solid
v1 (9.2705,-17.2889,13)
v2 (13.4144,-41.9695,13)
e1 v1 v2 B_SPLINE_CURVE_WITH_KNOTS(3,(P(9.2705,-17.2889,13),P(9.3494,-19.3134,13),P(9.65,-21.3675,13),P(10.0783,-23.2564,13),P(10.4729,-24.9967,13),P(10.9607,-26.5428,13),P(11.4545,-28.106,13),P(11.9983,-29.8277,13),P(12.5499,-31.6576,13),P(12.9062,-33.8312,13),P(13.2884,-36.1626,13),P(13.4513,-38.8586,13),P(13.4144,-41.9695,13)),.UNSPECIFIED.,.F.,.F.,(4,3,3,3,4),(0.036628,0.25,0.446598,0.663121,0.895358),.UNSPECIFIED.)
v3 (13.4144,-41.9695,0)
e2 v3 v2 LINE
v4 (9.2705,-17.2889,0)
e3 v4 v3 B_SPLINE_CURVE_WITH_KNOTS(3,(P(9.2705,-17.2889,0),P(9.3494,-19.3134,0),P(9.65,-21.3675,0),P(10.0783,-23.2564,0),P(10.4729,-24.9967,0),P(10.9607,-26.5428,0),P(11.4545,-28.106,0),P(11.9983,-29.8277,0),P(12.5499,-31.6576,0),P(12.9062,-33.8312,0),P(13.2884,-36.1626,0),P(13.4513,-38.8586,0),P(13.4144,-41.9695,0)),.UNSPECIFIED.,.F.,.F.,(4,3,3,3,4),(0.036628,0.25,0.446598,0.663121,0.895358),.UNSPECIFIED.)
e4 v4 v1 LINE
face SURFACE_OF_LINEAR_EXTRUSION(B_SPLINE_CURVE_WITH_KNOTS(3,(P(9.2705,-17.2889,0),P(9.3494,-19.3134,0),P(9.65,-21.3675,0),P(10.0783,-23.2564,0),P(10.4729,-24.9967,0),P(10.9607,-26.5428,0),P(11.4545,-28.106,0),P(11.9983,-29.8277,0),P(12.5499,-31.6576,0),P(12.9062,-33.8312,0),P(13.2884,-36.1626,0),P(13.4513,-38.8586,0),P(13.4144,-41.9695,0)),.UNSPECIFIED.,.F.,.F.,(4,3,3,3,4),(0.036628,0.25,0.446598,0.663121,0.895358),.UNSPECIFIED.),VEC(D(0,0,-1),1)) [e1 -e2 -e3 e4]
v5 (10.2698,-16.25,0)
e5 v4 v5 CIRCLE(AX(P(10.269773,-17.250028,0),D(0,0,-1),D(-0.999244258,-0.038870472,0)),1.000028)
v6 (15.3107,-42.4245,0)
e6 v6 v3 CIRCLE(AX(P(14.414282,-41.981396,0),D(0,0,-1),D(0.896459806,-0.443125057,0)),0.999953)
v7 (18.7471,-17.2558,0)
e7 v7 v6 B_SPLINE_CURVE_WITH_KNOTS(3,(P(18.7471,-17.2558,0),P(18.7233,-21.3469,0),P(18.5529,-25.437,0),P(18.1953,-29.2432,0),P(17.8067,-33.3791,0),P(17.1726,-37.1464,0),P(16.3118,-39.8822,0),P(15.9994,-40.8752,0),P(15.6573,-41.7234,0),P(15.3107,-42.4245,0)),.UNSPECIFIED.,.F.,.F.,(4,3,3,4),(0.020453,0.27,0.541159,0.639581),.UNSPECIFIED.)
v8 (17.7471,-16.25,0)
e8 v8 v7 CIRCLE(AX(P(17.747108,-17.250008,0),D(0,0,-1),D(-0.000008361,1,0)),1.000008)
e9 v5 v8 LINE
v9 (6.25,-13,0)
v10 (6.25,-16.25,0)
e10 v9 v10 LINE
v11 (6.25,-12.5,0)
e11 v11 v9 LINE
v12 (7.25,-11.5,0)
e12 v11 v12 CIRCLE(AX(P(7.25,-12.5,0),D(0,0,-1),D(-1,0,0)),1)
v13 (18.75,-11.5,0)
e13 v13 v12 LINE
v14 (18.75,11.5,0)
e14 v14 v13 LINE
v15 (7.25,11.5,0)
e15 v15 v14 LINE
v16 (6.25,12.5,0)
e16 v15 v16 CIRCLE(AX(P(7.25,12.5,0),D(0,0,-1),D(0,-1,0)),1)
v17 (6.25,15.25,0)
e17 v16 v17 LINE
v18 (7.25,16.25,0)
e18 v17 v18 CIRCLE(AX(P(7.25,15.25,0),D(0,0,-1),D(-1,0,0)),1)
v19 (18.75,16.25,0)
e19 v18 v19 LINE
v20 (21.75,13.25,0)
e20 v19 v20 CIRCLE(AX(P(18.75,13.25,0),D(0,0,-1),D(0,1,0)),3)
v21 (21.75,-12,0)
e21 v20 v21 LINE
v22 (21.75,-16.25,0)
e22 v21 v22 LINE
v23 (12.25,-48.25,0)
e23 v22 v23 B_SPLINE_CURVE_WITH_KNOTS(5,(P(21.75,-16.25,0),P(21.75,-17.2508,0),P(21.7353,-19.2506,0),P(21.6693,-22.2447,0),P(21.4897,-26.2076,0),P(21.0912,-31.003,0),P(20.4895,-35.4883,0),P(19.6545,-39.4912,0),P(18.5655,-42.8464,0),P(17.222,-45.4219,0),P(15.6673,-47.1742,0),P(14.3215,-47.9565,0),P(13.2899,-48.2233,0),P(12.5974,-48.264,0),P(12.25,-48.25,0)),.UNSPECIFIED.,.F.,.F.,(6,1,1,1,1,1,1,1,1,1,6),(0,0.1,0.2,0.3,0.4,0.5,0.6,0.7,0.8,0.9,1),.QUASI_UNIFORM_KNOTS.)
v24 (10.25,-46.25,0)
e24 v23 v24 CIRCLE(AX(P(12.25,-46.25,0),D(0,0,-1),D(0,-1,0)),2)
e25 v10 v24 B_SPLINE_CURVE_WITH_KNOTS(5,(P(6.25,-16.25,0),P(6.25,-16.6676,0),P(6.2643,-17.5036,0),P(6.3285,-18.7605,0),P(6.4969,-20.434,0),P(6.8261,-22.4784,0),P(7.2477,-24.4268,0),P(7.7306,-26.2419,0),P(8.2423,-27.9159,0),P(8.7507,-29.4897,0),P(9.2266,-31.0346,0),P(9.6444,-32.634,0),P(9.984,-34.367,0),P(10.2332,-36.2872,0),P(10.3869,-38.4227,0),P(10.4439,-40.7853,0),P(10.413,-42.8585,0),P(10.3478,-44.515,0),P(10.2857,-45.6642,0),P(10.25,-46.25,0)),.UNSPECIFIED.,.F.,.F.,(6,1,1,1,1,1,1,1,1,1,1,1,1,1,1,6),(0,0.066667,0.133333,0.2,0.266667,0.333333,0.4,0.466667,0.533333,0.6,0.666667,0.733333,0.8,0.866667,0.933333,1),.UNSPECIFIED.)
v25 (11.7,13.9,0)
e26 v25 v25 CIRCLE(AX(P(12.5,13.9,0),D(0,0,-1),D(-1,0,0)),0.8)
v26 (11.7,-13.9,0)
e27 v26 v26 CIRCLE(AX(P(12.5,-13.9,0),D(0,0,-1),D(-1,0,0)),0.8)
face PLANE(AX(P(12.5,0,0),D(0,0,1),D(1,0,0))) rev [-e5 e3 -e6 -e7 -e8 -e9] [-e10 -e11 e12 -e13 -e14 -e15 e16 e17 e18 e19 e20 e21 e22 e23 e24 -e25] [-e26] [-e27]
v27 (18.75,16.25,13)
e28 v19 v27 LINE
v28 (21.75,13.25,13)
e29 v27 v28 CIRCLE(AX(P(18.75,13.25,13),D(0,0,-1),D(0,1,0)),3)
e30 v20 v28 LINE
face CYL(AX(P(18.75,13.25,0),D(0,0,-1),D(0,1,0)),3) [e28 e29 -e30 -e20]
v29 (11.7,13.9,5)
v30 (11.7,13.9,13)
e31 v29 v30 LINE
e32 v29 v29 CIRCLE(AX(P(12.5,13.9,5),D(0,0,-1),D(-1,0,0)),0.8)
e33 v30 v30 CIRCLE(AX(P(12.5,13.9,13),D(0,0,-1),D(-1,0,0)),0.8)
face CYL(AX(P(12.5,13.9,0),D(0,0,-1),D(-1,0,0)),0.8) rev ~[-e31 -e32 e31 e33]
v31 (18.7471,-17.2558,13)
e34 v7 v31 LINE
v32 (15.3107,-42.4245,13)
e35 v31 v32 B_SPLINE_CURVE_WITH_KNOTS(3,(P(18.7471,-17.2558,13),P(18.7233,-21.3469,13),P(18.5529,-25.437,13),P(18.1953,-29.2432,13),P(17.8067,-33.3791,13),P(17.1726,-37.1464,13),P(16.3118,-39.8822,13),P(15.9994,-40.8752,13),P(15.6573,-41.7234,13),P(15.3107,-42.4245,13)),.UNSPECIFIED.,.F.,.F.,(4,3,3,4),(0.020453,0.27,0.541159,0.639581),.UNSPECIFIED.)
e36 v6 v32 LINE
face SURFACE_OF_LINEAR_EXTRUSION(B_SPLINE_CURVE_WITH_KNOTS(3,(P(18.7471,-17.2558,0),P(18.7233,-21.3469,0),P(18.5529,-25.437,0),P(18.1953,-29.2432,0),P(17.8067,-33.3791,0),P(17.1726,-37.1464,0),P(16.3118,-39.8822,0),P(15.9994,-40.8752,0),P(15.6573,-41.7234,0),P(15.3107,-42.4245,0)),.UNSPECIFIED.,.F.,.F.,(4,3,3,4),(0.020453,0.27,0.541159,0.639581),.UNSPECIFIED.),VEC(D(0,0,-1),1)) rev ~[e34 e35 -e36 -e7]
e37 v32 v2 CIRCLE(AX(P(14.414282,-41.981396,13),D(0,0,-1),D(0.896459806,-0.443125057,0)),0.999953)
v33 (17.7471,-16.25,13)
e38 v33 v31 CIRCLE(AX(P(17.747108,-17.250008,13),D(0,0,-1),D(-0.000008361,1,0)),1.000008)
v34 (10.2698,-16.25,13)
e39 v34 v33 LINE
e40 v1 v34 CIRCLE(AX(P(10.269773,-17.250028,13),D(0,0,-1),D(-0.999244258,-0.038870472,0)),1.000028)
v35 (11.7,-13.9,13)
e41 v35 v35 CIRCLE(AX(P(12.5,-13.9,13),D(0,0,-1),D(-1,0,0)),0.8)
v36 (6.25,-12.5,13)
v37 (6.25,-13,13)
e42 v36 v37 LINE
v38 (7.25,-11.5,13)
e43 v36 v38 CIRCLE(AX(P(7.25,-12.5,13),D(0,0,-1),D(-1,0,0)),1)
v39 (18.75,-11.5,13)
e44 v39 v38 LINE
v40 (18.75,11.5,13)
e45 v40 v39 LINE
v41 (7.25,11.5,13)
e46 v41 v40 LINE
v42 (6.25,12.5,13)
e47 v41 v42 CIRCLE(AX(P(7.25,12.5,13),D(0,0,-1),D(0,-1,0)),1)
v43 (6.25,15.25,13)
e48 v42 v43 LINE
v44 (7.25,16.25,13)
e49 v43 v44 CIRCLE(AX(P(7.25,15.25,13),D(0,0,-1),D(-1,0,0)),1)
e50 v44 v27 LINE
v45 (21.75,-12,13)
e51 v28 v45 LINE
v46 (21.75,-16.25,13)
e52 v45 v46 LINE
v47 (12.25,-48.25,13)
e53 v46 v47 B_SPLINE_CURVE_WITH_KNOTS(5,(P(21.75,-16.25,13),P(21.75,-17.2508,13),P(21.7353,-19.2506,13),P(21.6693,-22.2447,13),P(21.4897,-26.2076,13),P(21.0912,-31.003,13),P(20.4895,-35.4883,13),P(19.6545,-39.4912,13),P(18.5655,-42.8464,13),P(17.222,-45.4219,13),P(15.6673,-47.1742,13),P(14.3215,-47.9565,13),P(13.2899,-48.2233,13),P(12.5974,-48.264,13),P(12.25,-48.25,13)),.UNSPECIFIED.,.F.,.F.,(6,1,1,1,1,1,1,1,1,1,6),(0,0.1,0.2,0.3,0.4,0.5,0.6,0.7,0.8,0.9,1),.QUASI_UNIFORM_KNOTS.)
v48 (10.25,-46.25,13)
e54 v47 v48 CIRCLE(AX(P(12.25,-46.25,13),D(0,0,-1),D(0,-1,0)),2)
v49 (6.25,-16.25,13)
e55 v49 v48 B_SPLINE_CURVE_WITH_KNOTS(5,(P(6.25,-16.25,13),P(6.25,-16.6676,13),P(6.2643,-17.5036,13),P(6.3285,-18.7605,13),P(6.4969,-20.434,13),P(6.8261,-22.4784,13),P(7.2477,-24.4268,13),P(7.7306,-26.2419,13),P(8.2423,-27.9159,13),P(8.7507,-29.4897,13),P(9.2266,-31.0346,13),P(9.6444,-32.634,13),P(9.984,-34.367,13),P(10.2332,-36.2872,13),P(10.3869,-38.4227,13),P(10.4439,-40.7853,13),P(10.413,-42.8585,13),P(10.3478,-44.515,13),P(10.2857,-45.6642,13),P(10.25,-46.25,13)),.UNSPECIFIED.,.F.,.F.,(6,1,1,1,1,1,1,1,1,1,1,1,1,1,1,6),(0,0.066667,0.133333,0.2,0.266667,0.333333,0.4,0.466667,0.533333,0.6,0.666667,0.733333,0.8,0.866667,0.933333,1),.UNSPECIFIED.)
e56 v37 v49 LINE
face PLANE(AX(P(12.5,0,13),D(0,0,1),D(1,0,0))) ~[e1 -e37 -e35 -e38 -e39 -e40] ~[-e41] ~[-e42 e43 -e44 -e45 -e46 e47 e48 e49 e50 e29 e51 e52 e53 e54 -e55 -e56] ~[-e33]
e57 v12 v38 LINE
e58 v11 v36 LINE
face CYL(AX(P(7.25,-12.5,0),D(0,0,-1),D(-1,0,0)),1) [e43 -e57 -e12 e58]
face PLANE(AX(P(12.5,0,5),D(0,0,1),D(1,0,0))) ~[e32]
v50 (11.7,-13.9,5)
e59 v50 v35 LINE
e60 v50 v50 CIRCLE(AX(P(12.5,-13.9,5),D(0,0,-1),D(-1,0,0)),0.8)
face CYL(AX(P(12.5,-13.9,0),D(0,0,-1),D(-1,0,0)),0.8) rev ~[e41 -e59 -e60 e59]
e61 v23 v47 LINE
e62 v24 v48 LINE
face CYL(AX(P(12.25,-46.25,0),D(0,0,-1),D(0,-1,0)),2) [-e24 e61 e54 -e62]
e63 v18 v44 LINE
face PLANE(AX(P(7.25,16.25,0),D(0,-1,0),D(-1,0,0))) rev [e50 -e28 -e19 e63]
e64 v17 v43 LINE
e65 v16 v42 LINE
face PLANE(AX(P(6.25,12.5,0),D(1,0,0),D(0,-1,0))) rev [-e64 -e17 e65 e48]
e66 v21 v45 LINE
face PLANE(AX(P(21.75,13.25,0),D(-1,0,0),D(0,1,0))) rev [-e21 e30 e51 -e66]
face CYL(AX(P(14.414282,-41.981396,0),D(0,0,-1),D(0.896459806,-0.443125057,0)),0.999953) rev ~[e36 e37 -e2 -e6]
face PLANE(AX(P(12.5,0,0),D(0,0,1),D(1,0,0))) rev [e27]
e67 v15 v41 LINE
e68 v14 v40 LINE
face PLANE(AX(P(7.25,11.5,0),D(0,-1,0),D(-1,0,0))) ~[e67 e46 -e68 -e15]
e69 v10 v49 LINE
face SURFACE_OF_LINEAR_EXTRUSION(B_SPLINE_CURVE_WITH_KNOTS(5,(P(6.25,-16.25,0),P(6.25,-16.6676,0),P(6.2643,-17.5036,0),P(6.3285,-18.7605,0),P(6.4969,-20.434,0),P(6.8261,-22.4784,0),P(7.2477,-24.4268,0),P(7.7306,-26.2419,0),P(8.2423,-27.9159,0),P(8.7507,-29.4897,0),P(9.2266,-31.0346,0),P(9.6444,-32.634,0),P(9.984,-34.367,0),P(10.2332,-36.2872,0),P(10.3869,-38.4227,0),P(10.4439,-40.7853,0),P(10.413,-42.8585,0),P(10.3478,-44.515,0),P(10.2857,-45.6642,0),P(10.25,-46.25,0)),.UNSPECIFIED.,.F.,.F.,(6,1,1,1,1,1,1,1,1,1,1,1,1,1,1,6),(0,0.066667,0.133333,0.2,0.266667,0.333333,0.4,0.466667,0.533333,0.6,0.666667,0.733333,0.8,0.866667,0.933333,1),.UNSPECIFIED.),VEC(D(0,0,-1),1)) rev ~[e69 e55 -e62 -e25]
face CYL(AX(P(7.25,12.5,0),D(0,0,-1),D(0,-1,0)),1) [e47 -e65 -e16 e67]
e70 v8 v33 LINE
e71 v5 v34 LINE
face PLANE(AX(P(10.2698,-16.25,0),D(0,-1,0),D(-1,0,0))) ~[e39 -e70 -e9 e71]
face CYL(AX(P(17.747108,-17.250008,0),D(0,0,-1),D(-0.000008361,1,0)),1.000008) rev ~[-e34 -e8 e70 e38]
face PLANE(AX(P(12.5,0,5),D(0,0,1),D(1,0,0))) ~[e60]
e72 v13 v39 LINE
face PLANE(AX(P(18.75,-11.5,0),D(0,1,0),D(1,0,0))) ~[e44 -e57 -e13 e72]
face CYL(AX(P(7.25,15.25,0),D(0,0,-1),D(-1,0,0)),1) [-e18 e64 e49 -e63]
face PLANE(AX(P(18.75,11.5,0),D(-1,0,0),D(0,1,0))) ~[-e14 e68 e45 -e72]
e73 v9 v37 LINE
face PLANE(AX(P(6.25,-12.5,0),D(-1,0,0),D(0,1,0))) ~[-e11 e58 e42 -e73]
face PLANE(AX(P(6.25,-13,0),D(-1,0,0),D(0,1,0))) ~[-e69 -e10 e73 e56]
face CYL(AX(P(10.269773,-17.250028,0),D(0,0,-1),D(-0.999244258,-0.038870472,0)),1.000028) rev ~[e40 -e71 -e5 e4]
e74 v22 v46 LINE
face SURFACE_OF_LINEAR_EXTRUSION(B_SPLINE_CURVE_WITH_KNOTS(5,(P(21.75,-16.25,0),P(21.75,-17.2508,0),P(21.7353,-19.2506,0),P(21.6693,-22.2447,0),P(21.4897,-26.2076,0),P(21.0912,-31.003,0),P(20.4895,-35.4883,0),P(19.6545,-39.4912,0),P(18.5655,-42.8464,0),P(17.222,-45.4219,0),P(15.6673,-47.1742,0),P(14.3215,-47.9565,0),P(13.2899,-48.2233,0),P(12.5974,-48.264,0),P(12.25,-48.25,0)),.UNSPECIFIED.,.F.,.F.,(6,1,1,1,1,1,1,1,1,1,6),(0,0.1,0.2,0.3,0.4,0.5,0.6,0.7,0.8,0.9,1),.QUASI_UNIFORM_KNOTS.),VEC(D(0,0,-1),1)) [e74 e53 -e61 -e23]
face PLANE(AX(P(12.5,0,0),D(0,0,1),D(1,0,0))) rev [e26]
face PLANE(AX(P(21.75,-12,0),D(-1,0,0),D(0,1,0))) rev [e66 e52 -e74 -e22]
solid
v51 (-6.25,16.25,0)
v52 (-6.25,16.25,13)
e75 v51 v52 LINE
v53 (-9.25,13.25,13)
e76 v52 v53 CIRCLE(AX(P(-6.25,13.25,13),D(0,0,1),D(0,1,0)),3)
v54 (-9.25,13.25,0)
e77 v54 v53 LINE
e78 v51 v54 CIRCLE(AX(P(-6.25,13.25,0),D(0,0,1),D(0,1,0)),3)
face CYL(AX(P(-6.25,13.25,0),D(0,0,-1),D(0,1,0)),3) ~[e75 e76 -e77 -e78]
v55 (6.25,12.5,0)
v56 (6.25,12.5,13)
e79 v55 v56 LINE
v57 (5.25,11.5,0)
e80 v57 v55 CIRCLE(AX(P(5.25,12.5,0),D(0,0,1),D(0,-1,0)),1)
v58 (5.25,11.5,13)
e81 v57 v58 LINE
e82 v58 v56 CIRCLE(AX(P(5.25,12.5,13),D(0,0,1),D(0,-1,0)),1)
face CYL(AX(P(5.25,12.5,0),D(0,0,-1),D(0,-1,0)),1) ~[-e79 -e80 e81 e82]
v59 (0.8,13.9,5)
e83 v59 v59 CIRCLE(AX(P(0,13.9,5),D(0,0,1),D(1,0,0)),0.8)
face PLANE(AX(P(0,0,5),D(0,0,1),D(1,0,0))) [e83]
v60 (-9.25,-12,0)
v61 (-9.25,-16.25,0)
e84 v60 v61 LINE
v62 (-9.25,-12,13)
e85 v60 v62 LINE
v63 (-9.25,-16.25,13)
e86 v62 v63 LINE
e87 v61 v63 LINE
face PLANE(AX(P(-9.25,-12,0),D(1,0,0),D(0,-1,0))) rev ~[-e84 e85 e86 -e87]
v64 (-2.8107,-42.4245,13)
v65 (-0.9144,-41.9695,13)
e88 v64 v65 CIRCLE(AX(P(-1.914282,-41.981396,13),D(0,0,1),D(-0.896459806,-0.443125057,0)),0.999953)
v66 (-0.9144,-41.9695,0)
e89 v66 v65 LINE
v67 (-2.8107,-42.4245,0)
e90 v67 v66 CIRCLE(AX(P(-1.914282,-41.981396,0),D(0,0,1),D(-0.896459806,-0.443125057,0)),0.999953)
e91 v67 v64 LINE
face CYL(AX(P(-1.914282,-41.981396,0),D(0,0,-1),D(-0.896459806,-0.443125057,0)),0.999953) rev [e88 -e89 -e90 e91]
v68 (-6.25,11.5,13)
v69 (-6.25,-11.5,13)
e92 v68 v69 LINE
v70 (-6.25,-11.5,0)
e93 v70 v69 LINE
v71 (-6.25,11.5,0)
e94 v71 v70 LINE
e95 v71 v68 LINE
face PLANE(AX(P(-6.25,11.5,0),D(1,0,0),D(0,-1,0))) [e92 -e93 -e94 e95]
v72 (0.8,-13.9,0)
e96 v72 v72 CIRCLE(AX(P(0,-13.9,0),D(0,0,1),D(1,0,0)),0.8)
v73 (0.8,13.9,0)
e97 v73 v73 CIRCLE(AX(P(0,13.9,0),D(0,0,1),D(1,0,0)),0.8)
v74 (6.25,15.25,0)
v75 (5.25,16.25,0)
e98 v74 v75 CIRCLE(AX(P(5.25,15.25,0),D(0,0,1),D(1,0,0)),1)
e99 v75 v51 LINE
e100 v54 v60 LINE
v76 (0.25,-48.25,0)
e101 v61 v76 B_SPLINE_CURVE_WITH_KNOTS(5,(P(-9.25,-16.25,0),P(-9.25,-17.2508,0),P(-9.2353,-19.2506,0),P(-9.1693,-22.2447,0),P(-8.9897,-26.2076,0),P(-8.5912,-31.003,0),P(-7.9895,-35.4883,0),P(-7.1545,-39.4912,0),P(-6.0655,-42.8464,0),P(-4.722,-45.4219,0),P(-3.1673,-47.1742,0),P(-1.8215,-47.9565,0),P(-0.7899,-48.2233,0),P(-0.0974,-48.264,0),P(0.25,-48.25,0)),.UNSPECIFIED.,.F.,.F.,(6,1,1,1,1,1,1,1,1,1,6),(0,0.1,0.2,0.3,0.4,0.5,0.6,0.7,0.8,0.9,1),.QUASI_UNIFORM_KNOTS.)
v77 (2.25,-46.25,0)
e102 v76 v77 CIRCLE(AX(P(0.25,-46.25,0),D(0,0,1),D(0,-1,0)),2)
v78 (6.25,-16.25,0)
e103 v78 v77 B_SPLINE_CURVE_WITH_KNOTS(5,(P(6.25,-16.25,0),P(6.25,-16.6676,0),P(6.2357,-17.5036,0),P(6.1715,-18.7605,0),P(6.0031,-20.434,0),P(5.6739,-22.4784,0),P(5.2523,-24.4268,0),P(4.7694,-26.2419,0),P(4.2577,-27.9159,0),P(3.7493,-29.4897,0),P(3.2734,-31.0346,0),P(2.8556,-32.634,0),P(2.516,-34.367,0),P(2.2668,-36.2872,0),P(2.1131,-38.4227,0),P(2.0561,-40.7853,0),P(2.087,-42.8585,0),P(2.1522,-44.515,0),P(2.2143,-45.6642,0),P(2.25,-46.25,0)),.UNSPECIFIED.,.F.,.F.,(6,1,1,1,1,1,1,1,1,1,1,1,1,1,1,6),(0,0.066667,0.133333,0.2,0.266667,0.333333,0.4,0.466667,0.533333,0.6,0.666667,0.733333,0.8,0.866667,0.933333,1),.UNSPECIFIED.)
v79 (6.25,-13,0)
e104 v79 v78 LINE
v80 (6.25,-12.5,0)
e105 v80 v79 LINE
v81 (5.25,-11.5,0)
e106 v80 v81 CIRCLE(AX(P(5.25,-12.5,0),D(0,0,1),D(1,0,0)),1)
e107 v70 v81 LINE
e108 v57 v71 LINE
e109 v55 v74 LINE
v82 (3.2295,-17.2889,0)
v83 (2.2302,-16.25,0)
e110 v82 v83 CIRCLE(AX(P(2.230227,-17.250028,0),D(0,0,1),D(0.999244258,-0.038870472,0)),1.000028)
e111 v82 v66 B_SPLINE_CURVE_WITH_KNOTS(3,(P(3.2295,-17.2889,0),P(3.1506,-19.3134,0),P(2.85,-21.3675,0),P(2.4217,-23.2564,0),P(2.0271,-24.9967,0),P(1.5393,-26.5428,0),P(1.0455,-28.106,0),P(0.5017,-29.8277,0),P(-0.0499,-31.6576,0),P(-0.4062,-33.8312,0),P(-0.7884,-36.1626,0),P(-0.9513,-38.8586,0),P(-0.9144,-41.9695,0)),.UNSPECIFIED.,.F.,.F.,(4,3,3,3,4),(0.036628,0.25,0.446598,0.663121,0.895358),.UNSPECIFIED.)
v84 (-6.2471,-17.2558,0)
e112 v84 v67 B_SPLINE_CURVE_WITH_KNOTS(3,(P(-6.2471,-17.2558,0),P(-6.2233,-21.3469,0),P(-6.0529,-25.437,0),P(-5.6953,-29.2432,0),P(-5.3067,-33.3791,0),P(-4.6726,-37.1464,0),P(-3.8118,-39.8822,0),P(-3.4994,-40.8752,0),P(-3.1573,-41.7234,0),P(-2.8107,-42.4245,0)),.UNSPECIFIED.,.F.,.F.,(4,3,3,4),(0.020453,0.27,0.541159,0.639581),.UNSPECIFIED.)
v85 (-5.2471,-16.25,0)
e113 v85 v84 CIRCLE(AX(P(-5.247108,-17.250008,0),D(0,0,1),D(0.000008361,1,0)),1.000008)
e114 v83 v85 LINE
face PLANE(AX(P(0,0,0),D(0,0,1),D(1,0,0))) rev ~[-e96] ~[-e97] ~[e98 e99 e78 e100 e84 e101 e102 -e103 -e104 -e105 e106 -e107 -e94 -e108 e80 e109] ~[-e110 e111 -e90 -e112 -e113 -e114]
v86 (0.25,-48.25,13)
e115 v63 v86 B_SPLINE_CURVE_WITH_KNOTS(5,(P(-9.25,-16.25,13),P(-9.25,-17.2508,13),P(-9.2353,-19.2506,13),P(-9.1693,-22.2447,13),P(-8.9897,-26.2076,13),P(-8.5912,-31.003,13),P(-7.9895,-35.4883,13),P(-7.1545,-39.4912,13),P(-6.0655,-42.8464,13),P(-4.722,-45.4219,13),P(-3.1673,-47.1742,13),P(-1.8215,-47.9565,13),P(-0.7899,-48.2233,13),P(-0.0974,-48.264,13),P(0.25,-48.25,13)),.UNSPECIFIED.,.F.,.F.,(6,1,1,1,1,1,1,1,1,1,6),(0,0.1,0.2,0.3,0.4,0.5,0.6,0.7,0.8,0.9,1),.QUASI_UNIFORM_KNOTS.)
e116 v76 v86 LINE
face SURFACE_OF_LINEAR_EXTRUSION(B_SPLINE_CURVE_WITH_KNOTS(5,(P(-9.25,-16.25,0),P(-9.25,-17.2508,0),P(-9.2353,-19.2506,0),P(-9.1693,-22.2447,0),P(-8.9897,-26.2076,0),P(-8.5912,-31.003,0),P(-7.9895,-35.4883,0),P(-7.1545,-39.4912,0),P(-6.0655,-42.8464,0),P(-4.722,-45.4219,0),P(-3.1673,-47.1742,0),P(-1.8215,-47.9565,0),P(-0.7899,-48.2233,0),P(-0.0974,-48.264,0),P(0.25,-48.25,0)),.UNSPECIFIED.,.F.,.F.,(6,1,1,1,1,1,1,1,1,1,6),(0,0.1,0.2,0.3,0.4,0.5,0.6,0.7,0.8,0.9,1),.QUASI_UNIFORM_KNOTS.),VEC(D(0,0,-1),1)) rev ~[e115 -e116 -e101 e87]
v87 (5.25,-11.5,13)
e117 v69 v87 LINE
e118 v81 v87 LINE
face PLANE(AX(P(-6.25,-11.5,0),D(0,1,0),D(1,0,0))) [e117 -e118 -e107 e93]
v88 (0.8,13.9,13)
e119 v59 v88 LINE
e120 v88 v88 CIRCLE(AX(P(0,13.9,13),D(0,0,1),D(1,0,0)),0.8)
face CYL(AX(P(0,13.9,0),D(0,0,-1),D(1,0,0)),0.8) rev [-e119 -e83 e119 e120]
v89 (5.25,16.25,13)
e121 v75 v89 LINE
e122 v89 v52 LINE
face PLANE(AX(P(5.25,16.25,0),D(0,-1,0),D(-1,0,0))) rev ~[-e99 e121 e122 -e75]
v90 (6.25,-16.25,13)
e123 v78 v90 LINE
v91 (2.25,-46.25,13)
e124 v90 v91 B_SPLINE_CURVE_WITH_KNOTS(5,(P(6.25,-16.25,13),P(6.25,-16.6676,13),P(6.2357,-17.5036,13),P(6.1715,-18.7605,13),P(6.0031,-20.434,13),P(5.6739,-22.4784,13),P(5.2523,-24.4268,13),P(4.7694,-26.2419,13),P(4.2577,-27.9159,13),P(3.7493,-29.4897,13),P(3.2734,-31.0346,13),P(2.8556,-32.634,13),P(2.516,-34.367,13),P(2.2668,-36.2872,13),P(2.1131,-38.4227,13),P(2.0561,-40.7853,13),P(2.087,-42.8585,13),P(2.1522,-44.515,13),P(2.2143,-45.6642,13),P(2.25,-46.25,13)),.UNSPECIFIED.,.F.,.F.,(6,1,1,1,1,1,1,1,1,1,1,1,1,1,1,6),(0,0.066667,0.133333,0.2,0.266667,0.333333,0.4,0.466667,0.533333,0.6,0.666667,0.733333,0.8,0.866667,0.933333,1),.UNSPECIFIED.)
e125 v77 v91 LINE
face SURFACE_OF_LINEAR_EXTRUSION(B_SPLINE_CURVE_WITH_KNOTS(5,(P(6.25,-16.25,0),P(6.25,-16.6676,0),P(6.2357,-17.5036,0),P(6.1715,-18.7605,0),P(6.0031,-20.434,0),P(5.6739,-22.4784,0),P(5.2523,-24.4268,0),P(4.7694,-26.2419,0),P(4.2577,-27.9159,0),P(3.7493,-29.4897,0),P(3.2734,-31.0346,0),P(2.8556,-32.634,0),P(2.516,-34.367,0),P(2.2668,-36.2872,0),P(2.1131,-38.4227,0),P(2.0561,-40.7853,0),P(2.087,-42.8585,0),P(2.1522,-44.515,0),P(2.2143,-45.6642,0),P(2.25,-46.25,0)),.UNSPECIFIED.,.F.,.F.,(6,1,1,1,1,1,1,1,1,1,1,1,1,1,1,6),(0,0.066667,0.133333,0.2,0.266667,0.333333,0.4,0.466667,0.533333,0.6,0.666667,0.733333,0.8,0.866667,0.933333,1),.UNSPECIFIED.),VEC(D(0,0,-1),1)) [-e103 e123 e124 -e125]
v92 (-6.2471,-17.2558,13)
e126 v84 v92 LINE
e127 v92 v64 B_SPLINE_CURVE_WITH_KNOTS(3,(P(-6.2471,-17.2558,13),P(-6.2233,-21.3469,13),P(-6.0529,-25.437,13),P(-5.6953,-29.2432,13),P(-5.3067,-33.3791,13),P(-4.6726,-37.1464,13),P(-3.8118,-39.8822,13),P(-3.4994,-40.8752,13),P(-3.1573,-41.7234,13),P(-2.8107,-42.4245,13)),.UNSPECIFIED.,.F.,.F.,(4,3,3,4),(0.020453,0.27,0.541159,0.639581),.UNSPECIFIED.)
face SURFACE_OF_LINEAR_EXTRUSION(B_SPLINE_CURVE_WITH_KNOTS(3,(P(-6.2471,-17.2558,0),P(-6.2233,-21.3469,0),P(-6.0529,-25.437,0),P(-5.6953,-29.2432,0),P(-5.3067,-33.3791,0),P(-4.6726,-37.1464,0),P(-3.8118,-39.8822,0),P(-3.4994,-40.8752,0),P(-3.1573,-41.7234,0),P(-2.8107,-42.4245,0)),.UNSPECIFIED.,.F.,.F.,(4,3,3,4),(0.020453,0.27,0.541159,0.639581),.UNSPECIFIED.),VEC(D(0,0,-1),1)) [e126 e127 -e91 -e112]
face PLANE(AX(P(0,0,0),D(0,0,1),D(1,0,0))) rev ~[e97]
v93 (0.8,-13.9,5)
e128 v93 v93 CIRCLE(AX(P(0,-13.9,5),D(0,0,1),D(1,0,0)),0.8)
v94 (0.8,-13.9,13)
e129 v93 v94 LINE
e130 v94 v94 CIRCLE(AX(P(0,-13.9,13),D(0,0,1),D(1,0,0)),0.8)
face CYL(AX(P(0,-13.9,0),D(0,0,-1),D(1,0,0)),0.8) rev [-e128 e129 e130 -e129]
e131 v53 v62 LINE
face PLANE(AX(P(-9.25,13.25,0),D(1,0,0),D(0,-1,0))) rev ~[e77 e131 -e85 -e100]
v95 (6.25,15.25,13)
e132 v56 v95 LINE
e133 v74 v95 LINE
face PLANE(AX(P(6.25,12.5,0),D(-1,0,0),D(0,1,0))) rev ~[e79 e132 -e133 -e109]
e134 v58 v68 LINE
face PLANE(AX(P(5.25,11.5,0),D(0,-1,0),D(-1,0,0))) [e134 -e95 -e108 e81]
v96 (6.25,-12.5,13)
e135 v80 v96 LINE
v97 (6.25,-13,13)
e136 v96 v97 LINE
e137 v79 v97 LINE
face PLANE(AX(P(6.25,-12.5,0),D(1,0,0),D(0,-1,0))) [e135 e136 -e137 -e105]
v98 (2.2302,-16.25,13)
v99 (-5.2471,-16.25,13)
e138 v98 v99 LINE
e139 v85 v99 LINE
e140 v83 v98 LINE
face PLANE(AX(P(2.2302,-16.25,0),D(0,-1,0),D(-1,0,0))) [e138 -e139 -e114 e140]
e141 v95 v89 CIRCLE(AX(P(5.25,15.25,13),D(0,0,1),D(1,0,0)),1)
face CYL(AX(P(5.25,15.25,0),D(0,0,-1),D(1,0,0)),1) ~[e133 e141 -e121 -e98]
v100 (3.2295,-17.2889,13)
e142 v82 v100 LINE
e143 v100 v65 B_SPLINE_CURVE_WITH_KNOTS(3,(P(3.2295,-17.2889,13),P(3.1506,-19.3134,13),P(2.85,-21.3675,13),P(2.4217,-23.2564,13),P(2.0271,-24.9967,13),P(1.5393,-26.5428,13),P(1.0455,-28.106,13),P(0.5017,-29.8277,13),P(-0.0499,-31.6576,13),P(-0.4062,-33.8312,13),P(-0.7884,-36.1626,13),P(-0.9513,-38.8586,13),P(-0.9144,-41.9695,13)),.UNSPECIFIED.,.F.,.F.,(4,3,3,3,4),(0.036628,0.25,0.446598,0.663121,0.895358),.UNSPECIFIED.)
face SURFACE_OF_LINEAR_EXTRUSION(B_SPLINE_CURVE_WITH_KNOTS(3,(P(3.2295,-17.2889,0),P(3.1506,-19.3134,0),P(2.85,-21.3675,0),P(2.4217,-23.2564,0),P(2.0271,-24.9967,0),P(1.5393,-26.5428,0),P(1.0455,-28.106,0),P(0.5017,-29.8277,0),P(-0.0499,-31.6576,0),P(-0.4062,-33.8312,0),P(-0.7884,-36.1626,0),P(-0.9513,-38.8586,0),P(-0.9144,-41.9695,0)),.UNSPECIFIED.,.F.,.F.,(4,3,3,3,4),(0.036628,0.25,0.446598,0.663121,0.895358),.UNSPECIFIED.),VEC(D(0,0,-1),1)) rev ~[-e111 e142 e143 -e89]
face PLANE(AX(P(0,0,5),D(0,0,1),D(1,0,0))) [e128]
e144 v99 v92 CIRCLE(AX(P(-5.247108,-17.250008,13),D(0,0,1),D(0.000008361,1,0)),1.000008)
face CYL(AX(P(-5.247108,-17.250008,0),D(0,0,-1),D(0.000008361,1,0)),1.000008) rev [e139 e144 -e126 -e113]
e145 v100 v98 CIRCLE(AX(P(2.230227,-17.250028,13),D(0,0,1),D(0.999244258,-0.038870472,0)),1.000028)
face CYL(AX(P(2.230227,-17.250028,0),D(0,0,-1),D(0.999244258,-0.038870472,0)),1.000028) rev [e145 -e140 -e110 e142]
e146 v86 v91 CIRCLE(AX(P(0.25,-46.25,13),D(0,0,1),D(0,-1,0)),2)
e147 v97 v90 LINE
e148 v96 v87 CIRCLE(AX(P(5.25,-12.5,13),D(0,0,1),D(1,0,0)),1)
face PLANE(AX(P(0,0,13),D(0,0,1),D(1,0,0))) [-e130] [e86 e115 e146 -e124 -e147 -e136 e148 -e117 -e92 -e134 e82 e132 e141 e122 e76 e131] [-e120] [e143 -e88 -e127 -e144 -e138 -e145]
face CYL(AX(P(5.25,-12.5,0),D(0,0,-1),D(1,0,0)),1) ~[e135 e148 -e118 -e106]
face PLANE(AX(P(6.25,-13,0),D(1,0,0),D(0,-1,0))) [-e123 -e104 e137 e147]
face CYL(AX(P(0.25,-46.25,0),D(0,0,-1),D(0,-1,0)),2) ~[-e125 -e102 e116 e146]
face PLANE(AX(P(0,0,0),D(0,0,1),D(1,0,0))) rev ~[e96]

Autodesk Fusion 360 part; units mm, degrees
sketch "Sketch1" plane through (0, 0, 0) normal (0, 0, 1) x (1, 0, 0)
  line L0 (5.25, 11.5) -> (-6.25, 11.5)
  line L1 (-6.25, 11.5) -> (-6.25, -11.5)
  line L2 (-6.25, -11.5) -> (5.25, -11.5)
  line L3 (-9.25, 13.25) -> (-9.25, -16.25)
  line L4 (6.25, 12.5) -> (6.25, 15.25)
  line L5 (6.25, -12.5) -> (6.25, -16.25)
  line L6 (5.25, 16.25) -> (-6.25, 16.25)
  circle A0 centre (0, 13.9) radius 0.8
  circle A1 centre (0, -13.9) radius 0.8
  spline S0 degree 5 poles (6.25, -16.25) (6.25, -16.6676) (6.2357, -17.5036) (6.1715, -18.7605) (6.0031, -20.434) (5.6739, -22.4784) (5.2523, -24.4268) (4.7694, -26.2419) (4.2577, -27.9159) (3.7493, -29.4897) (3.2734, -31.0346) (2.8556, -32.634) (2.516, -34.367) (2.2668, -36.2872) (2.1131, -38.4227) (2.0561, -40.7853) (2.087, -42.8585) (2.1522, -44.515) (2.2143, -45.6642) (2.25, -46.25) knots 0 0 0 0 0 0 0.066667 0.133333 0.2 0.266667 0.333333 0.4 0.466667 0.533333 0.6 0.666667 0.733333 0.8 0.866667 0.933333 1 1 1 1 1 1
  arc A2 (0.25, -48.25) -> (2.25, -46.25) centre (0.25, -46.25) ccw
  spline S1 degree 5 poles (-9.25, -16.25) (-9.25, -17.2508) (-9.2353, -19.2506) (-9.1693, -22.2447) (-8.9897, -26.2076) (-8.5912, -31.003) (-7.9895, -35.4883) (-7.1545, -39.4912) (-6.0655, -42.8464) (-4.722, -45.4219) (-3.1673, -47.1742) (-1.8215, -47.9565) (-0.7899, -48.2233) (-0.0974, -48.264) (0.25, -48.25) knots 0 0 0 0 0 0 0.1 0.2 0.3 0.4 0.5 0.6 0.7 0.8 0.9 1 1 1 1 1 1
  line L7 (6.25, -13) -> (6.25, -19.5)
  line L8 (-9.25, -12) -> (-9.25, -20.5)
  line L9 (-2.6364, -48.3662) -> (3.1364, -48.1338)
  spline S2 degree 3 poles (-6.2471, -17.2558) (-6.2233, -21.3469) (-6.0529, -25.437) (-5.6953, -29.2432) (-5.3067, -33.3791) (-4.6726, -37.1464) (-3.8118, -39.8822) (-3.4994, -40.8752) (-3.1573, -41.7234) (-2.8107, -42.4245) knots 0.020453 0.020453 0.020453 0.020453 0.27 0.27 0.27 0.541159 0.541159 0.541159 0.639581 0.639581 0.639581 0.639581
  spline S3 degree 3 poles (3.2295, -17.2889) (3.1506, -19.3134) (2.85, -21.3675) (2.4217, -23.2564) (2.0271, -24.9967) (1.5393, -26.5428) (1.0455, -28.106) (0.5017, -29.8277) (-0.0499, -31.6576) (-0.4062, -33.8312) (-0.7884, -36.1626) (-0.9513, -38.8586) (-0.9144, -41.9695) knots 0.036628 0.036628 0.036628 0.036628 0.25 0.25 0.25 0.446598 0.446598 0.446598 0.663121 0.663121 0.663121 0.895358 0.895358 0.895358 0.895358
  line L10 (2.2302, -16.25) -> (-5.2471, -16.25)
  arc A3 (-6.25, 16.25) -> (-9.25, 13.25) centre (-6.25, 13.25) ccw
  arc A4 (6.25, 15.25) -> (5.25, 16.25) centre (5.25, 15.25) ccw
  arc A5 (5.25, 11.5) -> (6.25, 12.5) centre (5.25, 12.5) ccw
  arc A6 (6.25, -12.5) -> (5.25, -11.5) centre (5.25, -12.5) ccw
  arc A7 (-2.8107, -42.4245) -> (-0.9144, -41.9695) centre (-1.9143, -41.9814) ccw
  arc A8 (-5.2471, -16.25) -> (-6.2471, -17.2558) centre (-5.2471, -17.25) ccw
  arc A9 (3.2295, -17.2889) -> (2.2302, -16.25) centre (2.2302, -17.25) ccw
  point P0 (4.75, -26.25)
  point P1 (2.75, -33.25)
  point P2 (-5.25, -44.25)
extrude "Extrude1" add sketch "Sketch1" along normal blind 13 makes body 1
extrude "Extrude3" add sketch "Sketch1" along normal blind 5 contours A0 | A1 bodies 1
mirror "Mirror1" about plane through (6.25, 12.5, 0) normal (1, 0, 0) of bodies 1 makes body 2
